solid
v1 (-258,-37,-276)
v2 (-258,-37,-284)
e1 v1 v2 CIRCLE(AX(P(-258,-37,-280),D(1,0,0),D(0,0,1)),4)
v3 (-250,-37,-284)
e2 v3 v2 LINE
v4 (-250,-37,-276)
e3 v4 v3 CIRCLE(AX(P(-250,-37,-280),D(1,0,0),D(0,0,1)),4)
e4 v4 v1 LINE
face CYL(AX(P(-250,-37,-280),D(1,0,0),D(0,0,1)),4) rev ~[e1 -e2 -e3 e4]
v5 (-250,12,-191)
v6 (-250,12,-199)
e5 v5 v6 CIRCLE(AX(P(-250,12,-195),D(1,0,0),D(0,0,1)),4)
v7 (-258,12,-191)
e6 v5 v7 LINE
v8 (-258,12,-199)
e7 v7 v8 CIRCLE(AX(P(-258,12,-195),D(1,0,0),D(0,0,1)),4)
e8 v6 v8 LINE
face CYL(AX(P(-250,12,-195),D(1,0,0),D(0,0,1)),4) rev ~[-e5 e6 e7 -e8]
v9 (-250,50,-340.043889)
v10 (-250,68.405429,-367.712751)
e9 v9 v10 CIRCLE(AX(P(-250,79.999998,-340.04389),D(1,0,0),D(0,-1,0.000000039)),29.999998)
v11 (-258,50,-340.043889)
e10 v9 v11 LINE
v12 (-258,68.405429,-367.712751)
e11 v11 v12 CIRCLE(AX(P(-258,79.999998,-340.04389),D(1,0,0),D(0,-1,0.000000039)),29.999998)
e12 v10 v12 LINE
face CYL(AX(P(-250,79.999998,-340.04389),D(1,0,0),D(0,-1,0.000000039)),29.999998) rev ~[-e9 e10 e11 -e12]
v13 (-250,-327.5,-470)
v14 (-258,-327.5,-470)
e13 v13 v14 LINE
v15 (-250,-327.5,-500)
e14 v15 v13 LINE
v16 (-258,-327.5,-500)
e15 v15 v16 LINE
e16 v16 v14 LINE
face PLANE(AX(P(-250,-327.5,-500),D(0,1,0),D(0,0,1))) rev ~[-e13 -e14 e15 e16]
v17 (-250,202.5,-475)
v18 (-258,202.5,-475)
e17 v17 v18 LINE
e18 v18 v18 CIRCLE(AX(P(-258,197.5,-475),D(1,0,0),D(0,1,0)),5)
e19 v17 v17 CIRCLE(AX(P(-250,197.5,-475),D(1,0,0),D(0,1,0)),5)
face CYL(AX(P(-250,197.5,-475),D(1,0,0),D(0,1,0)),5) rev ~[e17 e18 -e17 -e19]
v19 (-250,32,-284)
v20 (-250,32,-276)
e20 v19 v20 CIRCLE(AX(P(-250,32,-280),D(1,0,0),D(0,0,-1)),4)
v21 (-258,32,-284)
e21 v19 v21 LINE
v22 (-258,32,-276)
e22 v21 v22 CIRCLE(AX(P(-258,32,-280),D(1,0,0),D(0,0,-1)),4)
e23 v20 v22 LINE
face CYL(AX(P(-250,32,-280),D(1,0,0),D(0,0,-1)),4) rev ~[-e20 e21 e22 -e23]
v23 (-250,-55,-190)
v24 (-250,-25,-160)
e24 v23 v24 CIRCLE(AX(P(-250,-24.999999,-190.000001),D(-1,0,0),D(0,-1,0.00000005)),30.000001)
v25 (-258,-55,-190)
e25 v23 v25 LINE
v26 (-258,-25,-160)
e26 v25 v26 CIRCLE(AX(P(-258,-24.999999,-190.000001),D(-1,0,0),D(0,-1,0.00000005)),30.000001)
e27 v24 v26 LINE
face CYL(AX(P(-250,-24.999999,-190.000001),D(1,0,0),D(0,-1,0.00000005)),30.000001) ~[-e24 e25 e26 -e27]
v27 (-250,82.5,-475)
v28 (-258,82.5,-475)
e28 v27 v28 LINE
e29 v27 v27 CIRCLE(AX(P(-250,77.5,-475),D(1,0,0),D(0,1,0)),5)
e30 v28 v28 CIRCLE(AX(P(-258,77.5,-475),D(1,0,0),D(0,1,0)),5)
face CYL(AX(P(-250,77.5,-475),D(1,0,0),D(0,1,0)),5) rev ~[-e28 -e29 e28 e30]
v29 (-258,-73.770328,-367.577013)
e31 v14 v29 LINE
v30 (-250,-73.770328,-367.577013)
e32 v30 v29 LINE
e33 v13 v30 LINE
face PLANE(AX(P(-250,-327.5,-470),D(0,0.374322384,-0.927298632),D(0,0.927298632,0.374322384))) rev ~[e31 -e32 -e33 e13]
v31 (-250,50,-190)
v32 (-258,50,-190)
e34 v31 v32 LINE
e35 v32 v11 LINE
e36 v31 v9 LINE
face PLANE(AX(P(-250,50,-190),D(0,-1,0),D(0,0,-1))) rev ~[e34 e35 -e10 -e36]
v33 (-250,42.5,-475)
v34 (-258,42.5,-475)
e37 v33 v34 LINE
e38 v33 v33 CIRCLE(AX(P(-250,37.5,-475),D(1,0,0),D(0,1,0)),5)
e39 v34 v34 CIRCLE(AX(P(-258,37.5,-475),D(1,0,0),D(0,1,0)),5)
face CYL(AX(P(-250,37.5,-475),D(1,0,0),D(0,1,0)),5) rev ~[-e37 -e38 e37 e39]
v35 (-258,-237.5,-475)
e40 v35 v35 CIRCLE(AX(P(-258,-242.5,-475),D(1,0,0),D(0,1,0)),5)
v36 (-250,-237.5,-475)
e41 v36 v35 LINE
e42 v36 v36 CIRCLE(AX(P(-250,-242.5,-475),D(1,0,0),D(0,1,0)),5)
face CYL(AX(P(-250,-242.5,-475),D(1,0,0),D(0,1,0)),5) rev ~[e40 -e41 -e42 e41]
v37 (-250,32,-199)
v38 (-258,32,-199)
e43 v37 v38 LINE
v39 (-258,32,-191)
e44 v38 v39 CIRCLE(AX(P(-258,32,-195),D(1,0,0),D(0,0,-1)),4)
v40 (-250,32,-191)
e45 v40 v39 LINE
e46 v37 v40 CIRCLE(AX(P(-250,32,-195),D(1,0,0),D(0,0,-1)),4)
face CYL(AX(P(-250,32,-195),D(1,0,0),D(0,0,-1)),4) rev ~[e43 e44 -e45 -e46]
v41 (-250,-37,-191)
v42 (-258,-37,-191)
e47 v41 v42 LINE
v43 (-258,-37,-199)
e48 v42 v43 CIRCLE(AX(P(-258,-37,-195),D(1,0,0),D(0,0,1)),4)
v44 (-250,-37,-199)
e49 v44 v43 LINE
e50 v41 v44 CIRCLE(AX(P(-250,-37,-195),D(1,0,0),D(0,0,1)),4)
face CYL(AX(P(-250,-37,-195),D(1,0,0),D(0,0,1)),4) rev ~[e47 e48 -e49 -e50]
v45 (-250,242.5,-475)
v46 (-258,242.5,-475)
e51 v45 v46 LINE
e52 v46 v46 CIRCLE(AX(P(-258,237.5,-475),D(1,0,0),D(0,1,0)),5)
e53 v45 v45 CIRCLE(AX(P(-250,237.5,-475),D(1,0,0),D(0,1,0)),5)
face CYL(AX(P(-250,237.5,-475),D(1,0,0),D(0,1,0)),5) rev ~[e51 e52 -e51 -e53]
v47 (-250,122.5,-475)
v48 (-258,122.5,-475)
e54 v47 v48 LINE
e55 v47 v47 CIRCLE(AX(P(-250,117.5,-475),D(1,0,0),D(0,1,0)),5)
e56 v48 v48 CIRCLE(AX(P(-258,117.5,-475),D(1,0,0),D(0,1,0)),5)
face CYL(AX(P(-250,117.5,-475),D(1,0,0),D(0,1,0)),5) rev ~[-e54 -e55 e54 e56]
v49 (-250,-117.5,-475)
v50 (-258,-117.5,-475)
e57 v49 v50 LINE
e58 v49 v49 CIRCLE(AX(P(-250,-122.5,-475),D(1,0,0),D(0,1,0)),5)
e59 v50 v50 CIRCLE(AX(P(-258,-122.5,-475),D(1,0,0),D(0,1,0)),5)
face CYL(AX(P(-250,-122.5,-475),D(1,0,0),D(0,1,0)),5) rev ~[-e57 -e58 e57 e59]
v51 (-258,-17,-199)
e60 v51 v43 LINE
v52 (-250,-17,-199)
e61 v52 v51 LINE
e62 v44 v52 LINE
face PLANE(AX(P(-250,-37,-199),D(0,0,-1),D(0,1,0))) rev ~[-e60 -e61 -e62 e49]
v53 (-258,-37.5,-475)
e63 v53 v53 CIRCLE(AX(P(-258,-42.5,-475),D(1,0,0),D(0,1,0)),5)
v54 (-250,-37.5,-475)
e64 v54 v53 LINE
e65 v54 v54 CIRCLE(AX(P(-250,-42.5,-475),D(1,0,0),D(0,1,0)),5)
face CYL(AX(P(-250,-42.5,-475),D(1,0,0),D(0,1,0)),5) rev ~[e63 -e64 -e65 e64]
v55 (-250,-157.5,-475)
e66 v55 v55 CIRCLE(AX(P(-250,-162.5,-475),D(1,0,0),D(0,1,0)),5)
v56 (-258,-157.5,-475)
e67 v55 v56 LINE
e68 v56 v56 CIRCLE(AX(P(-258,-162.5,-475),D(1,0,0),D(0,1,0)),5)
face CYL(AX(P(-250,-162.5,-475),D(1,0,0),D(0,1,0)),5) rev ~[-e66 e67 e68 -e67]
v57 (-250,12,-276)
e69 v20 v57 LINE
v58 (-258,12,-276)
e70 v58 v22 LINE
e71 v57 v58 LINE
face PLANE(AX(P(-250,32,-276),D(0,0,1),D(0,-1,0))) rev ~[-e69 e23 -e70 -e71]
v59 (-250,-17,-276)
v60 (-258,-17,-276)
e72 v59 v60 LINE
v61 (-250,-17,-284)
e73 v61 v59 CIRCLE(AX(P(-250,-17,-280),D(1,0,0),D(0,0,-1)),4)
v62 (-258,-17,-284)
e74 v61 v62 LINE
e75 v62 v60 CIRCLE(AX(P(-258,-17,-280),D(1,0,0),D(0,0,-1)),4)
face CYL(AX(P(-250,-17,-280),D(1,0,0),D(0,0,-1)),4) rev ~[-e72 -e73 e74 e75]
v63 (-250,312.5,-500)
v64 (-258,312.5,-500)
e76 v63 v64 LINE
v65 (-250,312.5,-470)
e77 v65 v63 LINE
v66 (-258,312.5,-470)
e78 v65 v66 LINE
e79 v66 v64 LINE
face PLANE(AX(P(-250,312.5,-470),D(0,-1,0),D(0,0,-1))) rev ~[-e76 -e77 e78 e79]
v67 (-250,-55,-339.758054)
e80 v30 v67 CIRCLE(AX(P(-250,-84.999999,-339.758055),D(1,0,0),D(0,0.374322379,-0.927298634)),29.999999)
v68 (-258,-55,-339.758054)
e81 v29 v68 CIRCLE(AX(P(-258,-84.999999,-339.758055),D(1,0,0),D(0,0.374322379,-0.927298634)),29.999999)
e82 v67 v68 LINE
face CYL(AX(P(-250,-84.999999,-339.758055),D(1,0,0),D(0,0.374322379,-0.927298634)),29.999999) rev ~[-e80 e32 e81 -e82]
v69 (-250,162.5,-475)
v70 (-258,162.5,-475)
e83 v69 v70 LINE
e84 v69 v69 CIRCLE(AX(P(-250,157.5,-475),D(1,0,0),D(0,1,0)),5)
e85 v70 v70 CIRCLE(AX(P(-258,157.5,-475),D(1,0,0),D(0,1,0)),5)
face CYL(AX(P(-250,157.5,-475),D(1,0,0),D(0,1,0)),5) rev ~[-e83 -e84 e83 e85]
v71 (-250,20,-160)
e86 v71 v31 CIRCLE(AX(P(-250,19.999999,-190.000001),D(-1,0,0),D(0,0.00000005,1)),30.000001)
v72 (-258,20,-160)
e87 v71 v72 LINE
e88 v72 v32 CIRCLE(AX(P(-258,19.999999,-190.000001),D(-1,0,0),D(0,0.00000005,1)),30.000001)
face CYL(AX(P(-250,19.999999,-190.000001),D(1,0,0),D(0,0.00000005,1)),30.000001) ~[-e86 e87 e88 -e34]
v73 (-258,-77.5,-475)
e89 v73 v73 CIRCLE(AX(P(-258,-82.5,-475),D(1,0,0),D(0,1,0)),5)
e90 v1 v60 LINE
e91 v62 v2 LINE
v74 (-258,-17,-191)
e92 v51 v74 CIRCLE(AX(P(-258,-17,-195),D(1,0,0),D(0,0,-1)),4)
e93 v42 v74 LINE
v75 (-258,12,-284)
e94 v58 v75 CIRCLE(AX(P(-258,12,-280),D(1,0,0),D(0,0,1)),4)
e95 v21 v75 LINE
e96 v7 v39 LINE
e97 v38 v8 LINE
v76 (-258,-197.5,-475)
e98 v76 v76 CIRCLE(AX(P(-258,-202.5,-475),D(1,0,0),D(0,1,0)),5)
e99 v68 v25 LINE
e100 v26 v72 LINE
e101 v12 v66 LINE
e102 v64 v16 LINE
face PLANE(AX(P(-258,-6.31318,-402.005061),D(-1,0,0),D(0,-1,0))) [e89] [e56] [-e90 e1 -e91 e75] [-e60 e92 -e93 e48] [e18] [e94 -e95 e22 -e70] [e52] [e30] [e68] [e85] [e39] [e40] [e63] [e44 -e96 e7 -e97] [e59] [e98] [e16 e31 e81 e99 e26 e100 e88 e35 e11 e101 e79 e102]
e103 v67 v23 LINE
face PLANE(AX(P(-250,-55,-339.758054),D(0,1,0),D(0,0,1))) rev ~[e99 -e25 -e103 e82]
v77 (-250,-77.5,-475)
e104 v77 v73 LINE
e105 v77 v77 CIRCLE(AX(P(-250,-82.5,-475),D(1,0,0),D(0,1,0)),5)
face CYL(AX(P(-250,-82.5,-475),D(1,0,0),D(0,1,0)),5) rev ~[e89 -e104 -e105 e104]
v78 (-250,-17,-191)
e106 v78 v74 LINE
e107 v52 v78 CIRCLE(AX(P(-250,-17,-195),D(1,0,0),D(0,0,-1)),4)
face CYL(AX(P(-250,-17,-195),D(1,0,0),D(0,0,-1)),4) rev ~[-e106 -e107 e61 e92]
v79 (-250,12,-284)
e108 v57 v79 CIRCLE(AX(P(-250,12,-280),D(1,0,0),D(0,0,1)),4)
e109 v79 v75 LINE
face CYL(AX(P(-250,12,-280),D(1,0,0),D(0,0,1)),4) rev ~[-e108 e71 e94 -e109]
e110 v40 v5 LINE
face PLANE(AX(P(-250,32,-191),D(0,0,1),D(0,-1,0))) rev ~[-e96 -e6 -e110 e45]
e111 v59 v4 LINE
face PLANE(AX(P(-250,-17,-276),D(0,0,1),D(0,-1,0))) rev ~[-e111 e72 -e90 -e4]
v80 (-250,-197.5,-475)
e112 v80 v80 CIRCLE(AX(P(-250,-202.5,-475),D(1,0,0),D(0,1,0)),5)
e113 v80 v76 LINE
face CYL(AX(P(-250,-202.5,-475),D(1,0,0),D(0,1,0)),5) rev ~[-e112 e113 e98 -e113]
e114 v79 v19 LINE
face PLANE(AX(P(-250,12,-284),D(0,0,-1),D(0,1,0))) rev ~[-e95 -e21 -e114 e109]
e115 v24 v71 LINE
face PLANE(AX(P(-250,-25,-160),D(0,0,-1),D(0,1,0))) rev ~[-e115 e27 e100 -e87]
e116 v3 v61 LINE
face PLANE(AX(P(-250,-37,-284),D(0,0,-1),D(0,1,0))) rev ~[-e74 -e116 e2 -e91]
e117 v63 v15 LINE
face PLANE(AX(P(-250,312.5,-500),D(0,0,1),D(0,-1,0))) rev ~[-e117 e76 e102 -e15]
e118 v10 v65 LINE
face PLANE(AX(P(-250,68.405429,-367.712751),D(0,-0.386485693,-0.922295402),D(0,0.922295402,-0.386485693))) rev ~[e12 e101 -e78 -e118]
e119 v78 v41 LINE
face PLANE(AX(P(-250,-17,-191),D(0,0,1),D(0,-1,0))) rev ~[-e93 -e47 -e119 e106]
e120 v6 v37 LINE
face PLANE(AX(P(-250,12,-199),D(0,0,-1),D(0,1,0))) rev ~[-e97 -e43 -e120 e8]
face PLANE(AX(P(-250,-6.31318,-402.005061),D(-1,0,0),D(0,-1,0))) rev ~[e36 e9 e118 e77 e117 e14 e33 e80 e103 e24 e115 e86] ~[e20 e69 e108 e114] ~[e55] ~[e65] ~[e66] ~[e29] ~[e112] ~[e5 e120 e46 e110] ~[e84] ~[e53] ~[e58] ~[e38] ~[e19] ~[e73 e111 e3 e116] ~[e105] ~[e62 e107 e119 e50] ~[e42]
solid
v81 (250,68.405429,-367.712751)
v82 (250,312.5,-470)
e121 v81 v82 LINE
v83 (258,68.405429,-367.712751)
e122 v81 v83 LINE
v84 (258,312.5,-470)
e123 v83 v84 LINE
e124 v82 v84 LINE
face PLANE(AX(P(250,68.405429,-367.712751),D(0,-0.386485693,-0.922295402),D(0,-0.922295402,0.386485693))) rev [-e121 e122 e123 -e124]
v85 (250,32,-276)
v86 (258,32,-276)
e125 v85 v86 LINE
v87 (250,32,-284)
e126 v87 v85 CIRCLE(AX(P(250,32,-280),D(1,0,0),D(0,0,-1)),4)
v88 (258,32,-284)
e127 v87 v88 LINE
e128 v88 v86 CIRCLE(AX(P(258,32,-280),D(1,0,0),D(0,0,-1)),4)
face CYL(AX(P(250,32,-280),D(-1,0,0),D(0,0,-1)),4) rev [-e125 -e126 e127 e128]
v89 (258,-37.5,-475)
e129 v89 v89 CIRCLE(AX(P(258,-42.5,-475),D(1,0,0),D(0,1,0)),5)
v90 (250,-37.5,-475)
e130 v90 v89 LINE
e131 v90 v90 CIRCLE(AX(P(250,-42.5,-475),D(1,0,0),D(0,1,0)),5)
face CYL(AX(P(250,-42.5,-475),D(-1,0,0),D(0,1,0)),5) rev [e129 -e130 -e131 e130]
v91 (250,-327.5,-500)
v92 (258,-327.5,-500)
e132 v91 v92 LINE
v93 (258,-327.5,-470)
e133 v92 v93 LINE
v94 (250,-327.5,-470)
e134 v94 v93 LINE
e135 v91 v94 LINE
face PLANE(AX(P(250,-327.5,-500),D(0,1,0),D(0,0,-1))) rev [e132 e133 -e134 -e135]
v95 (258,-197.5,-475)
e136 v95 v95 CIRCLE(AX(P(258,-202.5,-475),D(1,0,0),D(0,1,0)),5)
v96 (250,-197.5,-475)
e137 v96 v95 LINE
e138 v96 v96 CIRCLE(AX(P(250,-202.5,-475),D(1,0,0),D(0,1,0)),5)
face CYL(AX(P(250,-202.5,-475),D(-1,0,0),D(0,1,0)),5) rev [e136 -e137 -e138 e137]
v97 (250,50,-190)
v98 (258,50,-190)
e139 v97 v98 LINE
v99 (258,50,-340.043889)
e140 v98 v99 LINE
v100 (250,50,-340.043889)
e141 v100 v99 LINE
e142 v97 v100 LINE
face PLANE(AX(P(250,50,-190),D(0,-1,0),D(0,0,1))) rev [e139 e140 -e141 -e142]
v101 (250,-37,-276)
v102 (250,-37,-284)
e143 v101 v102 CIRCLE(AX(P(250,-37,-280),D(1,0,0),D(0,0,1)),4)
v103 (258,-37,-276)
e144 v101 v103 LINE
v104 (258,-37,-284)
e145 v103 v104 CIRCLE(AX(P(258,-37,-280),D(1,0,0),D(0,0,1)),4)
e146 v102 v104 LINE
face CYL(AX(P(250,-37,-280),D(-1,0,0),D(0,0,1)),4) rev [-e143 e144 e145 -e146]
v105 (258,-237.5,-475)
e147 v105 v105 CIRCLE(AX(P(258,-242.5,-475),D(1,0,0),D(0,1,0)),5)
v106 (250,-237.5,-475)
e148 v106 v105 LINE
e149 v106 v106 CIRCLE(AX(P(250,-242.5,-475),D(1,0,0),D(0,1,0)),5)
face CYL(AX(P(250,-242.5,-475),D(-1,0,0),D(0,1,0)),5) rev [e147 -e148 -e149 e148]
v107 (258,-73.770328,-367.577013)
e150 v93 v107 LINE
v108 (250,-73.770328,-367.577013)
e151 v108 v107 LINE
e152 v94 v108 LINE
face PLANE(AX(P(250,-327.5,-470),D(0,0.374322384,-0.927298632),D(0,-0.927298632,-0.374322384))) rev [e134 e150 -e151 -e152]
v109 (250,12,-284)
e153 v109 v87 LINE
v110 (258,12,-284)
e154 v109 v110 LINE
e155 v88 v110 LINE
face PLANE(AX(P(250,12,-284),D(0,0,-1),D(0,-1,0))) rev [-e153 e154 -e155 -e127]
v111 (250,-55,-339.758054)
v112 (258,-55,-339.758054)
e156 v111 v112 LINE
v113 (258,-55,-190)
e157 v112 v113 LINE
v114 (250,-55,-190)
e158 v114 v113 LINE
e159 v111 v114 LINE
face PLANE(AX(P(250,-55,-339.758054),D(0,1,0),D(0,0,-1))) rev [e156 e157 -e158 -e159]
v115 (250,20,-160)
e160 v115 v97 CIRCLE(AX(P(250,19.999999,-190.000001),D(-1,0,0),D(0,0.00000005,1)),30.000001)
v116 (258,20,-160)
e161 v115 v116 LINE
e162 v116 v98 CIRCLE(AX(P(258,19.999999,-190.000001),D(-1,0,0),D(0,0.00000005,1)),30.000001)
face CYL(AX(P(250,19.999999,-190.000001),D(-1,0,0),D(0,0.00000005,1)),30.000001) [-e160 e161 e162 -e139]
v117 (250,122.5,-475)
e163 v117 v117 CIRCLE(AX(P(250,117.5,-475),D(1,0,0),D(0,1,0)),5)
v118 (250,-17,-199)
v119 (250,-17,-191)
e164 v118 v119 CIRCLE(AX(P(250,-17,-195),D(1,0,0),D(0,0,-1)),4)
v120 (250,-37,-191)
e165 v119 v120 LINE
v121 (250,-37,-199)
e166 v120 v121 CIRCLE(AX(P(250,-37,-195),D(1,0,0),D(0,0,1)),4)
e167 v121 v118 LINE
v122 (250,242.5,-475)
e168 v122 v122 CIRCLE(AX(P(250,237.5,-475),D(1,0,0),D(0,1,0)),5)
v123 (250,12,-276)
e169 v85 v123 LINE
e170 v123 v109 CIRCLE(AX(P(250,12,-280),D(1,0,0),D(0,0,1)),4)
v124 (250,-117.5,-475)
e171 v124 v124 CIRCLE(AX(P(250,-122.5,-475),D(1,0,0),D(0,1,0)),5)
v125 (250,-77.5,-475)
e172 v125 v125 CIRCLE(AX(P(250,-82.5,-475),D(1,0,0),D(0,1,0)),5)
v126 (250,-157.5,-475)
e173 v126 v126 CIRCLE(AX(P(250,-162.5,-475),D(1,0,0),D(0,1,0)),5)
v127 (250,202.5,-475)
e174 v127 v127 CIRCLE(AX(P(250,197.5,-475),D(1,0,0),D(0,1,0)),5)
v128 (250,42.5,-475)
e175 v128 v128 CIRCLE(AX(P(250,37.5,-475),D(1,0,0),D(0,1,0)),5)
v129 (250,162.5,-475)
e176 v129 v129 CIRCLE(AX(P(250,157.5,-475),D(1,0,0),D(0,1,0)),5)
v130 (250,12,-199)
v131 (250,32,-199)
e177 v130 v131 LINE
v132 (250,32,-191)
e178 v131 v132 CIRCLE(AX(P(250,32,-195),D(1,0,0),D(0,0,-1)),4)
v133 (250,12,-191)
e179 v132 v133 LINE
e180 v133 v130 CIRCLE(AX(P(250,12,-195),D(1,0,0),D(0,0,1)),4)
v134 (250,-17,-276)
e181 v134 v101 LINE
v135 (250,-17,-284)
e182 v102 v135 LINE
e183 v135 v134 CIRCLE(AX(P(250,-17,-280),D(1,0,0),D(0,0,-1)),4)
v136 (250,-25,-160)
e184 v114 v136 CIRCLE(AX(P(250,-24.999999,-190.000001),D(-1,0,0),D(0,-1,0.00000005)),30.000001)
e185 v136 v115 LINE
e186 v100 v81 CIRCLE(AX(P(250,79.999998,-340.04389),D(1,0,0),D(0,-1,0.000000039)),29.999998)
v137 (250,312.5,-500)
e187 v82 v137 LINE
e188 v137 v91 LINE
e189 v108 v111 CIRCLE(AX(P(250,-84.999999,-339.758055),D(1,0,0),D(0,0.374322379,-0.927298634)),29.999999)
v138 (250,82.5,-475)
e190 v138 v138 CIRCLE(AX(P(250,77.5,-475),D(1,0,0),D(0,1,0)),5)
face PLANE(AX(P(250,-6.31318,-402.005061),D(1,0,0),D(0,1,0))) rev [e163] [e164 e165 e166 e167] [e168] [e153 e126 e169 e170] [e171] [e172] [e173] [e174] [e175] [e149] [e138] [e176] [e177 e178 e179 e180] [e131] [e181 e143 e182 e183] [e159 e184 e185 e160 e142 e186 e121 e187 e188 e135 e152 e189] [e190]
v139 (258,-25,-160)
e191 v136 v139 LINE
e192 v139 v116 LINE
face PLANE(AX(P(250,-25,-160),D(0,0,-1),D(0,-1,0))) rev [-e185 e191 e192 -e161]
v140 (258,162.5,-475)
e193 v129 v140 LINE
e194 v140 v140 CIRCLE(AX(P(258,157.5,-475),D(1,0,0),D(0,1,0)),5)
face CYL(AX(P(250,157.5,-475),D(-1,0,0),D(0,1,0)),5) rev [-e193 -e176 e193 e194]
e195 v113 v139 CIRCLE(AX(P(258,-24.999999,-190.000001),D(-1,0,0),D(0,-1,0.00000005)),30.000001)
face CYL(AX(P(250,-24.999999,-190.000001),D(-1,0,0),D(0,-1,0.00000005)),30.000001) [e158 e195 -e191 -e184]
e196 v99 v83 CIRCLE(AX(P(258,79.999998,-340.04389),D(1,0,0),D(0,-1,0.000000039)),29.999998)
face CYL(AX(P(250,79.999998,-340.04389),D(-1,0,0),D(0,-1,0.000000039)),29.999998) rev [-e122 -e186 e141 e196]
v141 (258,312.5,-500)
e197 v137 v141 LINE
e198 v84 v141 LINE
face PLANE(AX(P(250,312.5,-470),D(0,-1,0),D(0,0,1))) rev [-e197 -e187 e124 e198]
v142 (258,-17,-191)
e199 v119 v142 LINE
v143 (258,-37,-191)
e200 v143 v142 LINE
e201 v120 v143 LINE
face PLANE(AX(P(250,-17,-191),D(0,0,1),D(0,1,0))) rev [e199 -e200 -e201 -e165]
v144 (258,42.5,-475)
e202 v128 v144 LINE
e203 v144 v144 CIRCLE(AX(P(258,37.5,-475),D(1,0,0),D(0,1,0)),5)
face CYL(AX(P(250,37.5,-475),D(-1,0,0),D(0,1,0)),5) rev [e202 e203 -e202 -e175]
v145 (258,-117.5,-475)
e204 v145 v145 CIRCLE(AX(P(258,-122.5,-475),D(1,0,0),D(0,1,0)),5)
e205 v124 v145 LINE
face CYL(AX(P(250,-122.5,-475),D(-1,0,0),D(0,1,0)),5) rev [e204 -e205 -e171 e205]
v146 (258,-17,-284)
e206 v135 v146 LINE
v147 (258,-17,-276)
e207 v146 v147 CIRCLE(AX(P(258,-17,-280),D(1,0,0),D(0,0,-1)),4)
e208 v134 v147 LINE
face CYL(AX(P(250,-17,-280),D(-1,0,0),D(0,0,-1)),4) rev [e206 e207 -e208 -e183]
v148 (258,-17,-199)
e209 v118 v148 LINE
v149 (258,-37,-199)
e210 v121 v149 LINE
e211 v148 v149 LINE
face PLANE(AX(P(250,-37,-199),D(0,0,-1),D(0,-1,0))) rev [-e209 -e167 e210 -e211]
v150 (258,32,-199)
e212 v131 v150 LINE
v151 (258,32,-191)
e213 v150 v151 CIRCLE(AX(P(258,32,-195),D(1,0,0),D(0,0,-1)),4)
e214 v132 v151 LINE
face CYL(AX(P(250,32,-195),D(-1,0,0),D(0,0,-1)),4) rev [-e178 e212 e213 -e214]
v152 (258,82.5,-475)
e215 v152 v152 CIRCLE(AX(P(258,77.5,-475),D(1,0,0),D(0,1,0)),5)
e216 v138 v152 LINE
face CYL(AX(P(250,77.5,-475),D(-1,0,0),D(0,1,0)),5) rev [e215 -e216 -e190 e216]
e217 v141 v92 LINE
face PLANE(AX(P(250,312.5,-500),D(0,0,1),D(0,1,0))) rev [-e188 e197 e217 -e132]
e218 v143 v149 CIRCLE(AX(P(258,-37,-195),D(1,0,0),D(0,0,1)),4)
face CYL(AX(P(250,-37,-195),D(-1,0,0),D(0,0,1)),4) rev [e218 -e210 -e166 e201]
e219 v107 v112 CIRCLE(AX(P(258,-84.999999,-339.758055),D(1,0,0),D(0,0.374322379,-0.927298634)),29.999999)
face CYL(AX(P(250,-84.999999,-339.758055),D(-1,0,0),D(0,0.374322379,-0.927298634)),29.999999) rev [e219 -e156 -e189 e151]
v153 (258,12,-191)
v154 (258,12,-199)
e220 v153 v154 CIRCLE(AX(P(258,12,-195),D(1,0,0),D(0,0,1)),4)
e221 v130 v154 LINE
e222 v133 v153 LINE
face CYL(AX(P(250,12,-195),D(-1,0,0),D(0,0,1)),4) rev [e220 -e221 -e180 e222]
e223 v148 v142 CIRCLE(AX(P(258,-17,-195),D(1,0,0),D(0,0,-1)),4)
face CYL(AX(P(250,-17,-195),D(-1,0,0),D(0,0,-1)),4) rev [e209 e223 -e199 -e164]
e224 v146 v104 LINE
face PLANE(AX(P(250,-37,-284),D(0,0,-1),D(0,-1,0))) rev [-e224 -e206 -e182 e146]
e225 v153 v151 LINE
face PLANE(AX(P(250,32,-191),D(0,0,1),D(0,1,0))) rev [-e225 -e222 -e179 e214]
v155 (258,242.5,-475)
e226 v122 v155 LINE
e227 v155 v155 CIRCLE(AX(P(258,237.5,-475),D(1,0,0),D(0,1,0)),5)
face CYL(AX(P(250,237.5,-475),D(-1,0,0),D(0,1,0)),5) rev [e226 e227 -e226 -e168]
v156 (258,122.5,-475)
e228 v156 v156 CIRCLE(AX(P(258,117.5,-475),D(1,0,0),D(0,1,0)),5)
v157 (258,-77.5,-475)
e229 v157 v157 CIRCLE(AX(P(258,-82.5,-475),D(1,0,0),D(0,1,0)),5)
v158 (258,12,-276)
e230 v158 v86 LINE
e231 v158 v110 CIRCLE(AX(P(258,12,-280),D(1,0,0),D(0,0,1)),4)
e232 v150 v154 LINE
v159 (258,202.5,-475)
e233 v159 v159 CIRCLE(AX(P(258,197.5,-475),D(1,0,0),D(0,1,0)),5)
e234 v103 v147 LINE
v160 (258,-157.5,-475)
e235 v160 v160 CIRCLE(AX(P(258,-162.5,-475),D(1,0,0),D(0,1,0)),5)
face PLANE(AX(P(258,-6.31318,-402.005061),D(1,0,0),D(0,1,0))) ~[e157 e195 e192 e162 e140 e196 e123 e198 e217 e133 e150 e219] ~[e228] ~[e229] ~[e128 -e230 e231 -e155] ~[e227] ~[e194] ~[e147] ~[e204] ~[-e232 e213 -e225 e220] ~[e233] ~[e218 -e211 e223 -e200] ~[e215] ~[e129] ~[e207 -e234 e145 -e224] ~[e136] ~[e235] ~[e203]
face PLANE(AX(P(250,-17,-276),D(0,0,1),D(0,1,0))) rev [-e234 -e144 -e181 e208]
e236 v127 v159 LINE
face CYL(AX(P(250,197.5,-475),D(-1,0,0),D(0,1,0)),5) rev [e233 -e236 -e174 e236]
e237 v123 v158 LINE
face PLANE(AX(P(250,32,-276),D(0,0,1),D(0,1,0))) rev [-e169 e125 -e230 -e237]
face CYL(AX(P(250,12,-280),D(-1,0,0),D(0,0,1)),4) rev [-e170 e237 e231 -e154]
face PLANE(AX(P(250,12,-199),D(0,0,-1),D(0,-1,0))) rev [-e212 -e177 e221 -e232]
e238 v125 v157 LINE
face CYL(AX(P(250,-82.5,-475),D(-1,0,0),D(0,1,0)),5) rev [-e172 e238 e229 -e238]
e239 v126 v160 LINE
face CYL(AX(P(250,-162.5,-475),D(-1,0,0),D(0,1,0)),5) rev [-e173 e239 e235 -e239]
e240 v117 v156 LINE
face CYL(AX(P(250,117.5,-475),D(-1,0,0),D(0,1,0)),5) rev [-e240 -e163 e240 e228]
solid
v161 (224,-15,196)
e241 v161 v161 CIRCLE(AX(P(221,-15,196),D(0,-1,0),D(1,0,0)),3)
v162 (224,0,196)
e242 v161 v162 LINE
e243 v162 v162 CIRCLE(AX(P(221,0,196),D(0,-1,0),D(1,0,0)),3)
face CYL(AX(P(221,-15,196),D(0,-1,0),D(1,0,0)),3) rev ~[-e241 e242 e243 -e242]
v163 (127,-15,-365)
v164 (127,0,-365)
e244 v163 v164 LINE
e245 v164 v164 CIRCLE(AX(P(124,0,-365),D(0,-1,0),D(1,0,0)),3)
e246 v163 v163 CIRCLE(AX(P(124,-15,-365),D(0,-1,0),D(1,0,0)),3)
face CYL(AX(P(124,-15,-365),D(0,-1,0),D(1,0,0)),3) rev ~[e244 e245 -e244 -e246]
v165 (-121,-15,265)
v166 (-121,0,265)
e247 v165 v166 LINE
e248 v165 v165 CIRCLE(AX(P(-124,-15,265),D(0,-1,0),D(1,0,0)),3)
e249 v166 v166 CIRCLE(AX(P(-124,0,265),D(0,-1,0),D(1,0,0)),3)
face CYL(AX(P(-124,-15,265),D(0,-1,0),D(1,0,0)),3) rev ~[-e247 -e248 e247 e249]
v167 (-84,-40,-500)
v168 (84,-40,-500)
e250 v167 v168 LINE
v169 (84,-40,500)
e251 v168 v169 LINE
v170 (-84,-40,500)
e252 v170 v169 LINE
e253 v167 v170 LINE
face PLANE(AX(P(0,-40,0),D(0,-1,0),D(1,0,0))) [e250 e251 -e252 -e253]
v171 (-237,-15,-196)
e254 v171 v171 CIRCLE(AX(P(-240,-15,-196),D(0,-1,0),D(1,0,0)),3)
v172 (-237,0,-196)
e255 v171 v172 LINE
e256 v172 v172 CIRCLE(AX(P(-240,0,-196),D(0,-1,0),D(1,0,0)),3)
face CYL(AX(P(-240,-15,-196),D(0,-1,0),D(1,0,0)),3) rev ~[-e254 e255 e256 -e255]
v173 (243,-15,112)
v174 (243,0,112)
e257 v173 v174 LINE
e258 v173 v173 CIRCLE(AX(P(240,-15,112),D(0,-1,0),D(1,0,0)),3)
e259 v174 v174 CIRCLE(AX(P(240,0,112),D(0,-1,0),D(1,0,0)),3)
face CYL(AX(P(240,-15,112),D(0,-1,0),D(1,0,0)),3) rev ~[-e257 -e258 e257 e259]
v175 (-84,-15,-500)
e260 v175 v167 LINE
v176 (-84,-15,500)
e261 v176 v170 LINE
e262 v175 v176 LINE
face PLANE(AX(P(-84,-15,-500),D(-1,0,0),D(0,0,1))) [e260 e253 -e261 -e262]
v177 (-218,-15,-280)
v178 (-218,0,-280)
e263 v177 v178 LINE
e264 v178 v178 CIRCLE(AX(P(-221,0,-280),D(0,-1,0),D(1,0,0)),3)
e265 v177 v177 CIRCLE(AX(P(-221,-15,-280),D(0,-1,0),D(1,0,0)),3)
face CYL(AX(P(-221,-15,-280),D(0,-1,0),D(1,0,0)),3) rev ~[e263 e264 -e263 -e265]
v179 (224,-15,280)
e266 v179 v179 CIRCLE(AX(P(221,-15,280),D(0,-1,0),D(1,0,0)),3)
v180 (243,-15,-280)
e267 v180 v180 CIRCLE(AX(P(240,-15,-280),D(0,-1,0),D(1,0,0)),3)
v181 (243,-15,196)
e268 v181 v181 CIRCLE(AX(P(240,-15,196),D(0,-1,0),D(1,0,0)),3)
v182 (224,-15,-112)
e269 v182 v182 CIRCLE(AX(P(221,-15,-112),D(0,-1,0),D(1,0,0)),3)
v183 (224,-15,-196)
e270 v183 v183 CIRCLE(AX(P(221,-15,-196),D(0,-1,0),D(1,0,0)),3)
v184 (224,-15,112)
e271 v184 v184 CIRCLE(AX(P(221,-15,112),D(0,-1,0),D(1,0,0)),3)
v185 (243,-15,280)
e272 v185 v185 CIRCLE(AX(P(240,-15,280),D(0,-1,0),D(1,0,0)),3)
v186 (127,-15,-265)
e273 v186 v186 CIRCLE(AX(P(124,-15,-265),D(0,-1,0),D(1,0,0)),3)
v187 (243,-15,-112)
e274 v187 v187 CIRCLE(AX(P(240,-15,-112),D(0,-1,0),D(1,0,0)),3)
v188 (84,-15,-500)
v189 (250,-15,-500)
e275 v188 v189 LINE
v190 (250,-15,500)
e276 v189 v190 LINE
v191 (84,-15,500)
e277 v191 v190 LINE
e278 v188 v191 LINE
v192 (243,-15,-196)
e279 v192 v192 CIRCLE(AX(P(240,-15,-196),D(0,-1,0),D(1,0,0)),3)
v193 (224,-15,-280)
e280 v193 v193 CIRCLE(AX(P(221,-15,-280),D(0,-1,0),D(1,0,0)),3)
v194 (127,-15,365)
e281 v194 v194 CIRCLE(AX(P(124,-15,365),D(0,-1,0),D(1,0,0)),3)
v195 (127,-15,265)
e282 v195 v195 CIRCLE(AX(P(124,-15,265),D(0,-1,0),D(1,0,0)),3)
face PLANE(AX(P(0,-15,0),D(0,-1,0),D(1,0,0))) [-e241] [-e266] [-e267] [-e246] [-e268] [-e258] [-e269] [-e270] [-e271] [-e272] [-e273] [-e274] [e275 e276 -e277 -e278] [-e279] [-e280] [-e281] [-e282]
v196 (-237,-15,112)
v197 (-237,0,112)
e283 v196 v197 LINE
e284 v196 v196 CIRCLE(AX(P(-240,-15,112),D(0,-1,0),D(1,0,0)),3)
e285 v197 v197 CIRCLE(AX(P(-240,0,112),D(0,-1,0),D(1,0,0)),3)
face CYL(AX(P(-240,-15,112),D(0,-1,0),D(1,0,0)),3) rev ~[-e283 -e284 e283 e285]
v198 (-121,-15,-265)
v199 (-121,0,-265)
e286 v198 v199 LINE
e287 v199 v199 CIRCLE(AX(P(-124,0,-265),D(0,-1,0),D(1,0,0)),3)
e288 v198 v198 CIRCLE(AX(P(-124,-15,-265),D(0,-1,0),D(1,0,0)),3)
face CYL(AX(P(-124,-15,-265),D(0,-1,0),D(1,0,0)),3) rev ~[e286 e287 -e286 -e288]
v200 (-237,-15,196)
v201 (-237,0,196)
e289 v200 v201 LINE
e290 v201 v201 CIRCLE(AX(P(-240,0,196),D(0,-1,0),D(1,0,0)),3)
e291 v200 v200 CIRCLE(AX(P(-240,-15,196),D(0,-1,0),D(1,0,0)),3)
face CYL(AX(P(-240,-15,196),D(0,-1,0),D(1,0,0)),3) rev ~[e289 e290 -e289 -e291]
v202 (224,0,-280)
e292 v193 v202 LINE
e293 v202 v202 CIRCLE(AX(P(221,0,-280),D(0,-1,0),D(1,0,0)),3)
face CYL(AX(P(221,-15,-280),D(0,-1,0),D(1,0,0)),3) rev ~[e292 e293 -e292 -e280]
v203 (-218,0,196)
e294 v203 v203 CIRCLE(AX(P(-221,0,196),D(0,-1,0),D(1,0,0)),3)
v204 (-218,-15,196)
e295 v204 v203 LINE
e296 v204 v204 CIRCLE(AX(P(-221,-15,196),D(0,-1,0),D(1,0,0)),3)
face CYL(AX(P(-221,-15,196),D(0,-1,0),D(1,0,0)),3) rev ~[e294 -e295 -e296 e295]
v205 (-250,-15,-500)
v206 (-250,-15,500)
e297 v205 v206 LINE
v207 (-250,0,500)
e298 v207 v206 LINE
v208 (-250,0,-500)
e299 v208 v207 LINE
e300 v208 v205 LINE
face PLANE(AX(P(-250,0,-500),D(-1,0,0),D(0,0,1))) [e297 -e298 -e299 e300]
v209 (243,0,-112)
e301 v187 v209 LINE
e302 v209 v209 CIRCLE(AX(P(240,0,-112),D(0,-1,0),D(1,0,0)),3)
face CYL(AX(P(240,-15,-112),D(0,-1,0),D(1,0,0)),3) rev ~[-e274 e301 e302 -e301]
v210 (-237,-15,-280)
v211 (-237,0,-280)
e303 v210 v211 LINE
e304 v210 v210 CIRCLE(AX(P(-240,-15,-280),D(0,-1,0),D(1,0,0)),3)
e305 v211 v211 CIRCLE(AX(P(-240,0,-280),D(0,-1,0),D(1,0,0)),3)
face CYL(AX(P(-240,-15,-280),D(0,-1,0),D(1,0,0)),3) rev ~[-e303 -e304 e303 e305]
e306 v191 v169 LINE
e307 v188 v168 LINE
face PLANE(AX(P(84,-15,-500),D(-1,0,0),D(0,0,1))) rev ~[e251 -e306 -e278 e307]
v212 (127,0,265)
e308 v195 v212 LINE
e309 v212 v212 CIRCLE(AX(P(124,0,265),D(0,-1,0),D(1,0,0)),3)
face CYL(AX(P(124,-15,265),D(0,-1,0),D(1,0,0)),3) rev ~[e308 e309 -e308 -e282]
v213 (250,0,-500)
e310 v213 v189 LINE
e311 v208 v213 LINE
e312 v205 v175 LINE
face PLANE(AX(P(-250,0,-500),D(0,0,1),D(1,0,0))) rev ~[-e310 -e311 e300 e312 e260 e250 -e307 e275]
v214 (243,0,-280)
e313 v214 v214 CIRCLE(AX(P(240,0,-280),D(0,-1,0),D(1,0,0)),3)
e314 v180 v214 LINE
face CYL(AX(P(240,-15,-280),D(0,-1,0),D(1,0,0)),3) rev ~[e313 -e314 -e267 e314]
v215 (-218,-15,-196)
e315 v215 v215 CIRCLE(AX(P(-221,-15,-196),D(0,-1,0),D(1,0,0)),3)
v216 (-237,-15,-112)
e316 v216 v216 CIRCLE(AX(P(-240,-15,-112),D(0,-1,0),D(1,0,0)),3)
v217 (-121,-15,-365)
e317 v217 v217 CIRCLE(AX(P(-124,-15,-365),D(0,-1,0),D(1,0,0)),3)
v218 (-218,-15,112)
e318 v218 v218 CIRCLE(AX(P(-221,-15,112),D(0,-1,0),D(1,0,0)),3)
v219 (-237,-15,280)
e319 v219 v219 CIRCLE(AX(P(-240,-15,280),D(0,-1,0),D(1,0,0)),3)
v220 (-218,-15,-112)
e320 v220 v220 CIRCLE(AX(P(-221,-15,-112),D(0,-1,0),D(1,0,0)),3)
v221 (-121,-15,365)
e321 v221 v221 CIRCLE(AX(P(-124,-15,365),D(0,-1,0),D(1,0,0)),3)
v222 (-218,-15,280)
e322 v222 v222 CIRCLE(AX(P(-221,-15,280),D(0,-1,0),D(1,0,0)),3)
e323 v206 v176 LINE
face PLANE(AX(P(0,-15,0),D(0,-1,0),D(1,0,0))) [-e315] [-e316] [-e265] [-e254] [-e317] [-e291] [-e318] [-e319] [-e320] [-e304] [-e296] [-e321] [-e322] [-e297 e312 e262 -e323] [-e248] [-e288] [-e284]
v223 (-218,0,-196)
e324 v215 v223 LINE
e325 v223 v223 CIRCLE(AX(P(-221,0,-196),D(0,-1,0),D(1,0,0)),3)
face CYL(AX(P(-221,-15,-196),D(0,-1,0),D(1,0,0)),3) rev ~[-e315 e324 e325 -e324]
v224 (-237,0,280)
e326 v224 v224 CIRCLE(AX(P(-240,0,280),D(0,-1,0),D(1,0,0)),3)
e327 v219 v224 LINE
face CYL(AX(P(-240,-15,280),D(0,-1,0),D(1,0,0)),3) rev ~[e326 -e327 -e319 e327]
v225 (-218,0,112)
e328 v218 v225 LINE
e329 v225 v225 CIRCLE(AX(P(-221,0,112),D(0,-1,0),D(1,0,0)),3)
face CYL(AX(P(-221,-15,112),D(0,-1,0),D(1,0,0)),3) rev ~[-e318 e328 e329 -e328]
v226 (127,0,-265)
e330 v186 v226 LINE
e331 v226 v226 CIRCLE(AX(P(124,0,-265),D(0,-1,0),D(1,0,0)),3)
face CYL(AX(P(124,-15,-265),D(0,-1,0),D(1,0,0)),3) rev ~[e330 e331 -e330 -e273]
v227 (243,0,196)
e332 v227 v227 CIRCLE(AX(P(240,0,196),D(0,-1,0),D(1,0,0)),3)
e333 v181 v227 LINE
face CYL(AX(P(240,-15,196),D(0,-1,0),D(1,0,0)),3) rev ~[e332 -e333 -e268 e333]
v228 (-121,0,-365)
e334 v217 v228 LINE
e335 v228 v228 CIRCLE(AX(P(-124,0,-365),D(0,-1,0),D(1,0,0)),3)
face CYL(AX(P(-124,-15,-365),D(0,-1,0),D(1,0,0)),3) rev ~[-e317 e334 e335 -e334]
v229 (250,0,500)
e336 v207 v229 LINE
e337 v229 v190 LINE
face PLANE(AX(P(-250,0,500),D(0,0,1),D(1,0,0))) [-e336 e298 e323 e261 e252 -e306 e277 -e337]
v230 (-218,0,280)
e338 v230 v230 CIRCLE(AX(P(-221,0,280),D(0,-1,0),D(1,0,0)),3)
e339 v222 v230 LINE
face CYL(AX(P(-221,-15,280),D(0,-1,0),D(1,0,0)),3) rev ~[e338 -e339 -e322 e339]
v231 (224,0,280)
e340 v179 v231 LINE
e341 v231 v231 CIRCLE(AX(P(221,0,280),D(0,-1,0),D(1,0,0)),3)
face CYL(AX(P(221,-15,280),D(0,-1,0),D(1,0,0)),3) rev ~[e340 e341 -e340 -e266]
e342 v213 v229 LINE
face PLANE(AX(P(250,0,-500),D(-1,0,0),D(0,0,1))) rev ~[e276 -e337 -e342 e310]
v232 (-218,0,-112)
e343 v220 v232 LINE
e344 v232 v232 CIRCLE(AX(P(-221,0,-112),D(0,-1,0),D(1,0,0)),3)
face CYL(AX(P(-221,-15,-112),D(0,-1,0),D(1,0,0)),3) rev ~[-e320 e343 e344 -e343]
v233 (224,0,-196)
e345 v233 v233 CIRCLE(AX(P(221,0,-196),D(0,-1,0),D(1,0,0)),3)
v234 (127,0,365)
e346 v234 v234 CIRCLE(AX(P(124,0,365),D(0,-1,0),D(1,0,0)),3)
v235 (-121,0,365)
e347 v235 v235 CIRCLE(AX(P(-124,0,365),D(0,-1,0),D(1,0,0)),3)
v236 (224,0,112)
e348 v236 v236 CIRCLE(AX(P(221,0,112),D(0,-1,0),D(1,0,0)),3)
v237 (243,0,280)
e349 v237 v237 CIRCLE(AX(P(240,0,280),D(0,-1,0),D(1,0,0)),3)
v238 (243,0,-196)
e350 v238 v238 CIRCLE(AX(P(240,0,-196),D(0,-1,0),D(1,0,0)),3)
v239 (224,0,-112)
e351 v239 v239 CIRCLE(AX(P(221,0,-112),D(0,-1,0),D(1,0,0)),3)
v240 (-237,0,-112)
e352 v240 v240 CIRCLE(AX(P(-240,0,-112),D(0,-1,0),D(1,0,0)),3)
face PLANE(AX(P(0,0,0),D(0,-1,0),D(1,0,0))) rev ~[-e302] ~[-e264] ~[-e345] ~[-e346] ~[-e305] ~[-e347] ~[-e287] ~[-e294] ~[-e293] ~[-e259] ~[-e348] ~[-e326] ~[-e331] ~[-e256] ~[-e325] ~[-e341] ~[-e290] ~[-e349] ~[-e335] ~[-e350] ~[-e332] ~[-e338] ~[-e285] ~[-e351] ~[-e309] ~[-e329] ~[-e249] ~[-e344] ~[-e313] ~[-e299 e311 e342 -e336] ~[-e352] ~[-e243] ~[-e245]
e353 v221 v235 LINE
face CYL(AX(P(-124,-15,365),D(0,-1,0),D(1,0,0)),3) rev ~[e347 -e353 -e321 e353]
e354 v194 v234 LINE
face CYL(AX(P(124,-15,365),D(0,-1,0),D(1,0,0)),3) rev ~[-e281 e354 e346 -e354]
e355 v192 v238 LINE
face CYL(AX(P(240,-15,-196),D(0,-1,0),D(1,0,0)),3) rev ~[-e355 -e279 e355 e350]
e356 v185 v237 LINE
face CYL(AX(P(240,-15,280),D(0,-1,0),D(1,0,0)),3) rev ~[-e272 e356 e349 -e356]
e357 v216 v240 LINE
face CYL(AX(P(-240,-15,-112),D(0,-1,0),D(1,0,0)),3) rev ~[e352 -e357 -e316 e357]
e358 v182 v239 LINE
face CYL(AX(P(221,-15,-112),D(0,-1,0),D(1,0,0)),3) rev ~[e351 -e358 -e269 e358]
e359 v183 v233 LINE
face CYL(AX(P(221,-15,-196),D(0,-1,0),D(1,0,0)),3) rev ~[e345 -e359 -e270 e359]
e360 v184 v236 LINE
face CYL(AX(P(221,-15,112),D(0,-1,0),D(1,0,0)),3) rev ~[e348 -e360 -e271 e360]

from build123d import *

# Parameters (mm, degrees)
F0_W     = 500
F0_H     = 1000
F1_DEPTH = 15
F2_W     = 168
F2_H     = 1000
F3_DEPTH = 25
F4_R     = 3
F5_DEPTH = 25
F7_DEPTH = 8
F8_R     = 5
F9_DEPTH = 25


with BuildPart() as f1:
    # F0 (on Front) → F1 (new body)
    with BuildSketch(Plane.XZ):
        Rectangle(F0_W, F0_H)
    extrude(amount=F1_DEPTH)

    # F2 (on face) → F3 (join)
    with BuildSketch(Plane.XZ.offset(15)):
        Rectangle(F2_W, F2_H)
    extrude(amount=F3_DEPTH)

    # F4 (on face) → F5 (cut)
    with BuildSketch(Plane.XZ.offset(15)):
        with Locations((124, -365)):
            Circle(F4_R)
        with Locations((124, -265)):
            Circle(F4_R)
        with Locations((240, -112)):
            Circle(F4_R)
        with Locations((240, -196)):
            Circle(F4_R)
        with Locations((240, -280)):
            Circle(F4_R)
        with Locations((221, -112)):
            Circle(F4_R)
        with Locations((221, -196)):
            Circle(F4_R)
        with Locations((221, -280)):
            Circle(F4_R)
        with Locations((-221, -112)):
            Circle(F4_R)
        with Locations((-240, -112)):
            Circle(F4_R)
        with Locations((-124, -265)):
            Circle(F4_R)
        with Locations((-240, -196)):
            Circle(F4_R)
        with Locations((-124, -365)):
            Circle(F4_R)
        with Locations((-221, -280)):
            Circle(F4_R)
        with Locations((-221, -196)):
            Circle(F4_R)
        with Locations((-240, -280)):
            Circle(F4_R)
        with Locations((240, 112)):
            Circle(F4_R)
        with Locations((221, 112)):
            Circle(F4_R)
        with Locations((-240, 112)):
            Circle(F4_R)
        with Locations((-221, 112)):
            Circle(F4_R)
        with Locations((-221, 196)):
            Circle(F4_R)
        with Locations((221, 196)):
            Circle(F4_R)
        with Locations((-240, 196)):
            Circle(F4_R)
        with Locations((124, 265)):
            Circle(F4_R)
        with Locations((240, 196)):
            Circle(F4_R)
        with Locations((221, 280)):
            Circle(F4_R)
        with Locations((-124, 265)):
            Circle(F4_R)
        with Locations((-124, 365)):
            Circle(F4_R)
        with Locations((-240, 280)):
            Circle(F4_R)
        with Locations((-221, 280)):
            Circle(F4_R)
        with Locations((124, 365)):
            Circle(F4_R)
        with Locations((240, 280)):
            Circle(F4_R)
    extrude(amount=-F5_DEPTH, mode=Mode.SUBTRACT)


with BuildPart() as f7:
    # F6 (on face) → F7 (new body)
    with BuildSketch(Plane(origin=(-250, 0, 0), x_dir=(0, -1, 0), z_dir=(-1, 0, 0))):
        with BuildLine():
            Line((-165.597554, -500), (264.541074, -500))
            Line((264.541074, -500), (327.5, -500))
            Line((327.5, -500), (327.5, -470))
            Line((327.5, -470), (73.770328, -367.577013))
            ThreePointArc((73.770328, -367.577013), (60.131444, -356.537653), (55, -339.758054))
            Line((55, -339.758054), (55, -190))
            ThreePointArc((55, -190), (46.213203, -168.786797), (25, -160))
            Line((25, -160), (15, -160))
            Line((15, -160), (-20, -160))
            ThreePointArc((-20, -160), (-41.213203, -168.786797), (-50, -190))
            Line((-50, -190), (-50, -340.043889))
            ThreePointArc((-50, -340.043889), (-55.021638, -356.659588), (-68.405429, -367.712751))
            Line((-68.405429, -367.712751), (-312.5, -470))
            Line((-312.5, -470), (-312.5, -500))
            Line((-312.5, -500), (-165.597554, -500))
        make_face()
    extrude(amount=F7_DEPTH)

    # F8 (on face) → F9 (cut)
    with BuildSketch(Plane.YZ.offset(-250)):
        with BuildLine():
            Line((32, -276), (12, -276))
            ThreePointArc((12, -276), (8, -280), (12, -284))
            Line((12, -284), (32, -284))
            ThreePointArc((32, -284), (36, -280), (32, -276))
        make_face()
        with BuildLine():
            Line((32, -191), (12, -191))
            ThreePointArc((12, -191), (8, -195), (12, -199))
            Line((12, -199), (32, -199))
            ThreePointArc((32, -199), (36, -195), (32, -191))
        make_face()
        with BuildLine():
            Line((-17, -276), (-37, -276))
            ThreePointArc((-37, -276), (-41, -280), (-37, -284))
            Line((-37, -284), (-17, -284))
            ThreePointArc((-17, -284), (-13, -280), (-17, -276))
        make_face()
        with BuildLine():
            ThreePointArc((-17, -199), (-13, -195), (-17, -191))
            Line((-17, -191), (-37, -191))
            ThreePointArc((-37, -191), (-41, -195), (-37, -199))
            Line((-37, -199), (-17, -199))
        make_face()
        with Locations((-42.5, -475)):
            Circle(F8_R)
        with Locations((-82.5, -475)):
            Circle(F8_R)
        with Locations((-122.5, -475)):
            Circle(F8_R)
        with Locations((-162.5, -475)):
            Circle(F8_R)
        with Locations((-202.5, -475)):
            Circle(F8_R)
        with Locations((-242.5, -475)):
            Circle(F8_R)
        with Locations((37.5, -475)):
            Circle(F8_R)
        with Locations((157.5, -475)):
            Circle(F8_R)
        with Locations((237.5, -475)):
            Circle(F8_R)
        with Locations((77.5, -475)):
            Circle(F8_R)
        with Locations((197.5, -475)):
            Circle(F8_R)
        with Locations((117.5, -475)):
            Circle(F8_R)
    extrude(amount=-F9_DEPTH, mode=Mode.SUBTRACT)


with BuildPart() as f10_1:
    # F10: instance of F7
    add(f7.part.mirror(Plane.YZ))


solid = Compound([f1.part, f7.part, f10_1.part])
